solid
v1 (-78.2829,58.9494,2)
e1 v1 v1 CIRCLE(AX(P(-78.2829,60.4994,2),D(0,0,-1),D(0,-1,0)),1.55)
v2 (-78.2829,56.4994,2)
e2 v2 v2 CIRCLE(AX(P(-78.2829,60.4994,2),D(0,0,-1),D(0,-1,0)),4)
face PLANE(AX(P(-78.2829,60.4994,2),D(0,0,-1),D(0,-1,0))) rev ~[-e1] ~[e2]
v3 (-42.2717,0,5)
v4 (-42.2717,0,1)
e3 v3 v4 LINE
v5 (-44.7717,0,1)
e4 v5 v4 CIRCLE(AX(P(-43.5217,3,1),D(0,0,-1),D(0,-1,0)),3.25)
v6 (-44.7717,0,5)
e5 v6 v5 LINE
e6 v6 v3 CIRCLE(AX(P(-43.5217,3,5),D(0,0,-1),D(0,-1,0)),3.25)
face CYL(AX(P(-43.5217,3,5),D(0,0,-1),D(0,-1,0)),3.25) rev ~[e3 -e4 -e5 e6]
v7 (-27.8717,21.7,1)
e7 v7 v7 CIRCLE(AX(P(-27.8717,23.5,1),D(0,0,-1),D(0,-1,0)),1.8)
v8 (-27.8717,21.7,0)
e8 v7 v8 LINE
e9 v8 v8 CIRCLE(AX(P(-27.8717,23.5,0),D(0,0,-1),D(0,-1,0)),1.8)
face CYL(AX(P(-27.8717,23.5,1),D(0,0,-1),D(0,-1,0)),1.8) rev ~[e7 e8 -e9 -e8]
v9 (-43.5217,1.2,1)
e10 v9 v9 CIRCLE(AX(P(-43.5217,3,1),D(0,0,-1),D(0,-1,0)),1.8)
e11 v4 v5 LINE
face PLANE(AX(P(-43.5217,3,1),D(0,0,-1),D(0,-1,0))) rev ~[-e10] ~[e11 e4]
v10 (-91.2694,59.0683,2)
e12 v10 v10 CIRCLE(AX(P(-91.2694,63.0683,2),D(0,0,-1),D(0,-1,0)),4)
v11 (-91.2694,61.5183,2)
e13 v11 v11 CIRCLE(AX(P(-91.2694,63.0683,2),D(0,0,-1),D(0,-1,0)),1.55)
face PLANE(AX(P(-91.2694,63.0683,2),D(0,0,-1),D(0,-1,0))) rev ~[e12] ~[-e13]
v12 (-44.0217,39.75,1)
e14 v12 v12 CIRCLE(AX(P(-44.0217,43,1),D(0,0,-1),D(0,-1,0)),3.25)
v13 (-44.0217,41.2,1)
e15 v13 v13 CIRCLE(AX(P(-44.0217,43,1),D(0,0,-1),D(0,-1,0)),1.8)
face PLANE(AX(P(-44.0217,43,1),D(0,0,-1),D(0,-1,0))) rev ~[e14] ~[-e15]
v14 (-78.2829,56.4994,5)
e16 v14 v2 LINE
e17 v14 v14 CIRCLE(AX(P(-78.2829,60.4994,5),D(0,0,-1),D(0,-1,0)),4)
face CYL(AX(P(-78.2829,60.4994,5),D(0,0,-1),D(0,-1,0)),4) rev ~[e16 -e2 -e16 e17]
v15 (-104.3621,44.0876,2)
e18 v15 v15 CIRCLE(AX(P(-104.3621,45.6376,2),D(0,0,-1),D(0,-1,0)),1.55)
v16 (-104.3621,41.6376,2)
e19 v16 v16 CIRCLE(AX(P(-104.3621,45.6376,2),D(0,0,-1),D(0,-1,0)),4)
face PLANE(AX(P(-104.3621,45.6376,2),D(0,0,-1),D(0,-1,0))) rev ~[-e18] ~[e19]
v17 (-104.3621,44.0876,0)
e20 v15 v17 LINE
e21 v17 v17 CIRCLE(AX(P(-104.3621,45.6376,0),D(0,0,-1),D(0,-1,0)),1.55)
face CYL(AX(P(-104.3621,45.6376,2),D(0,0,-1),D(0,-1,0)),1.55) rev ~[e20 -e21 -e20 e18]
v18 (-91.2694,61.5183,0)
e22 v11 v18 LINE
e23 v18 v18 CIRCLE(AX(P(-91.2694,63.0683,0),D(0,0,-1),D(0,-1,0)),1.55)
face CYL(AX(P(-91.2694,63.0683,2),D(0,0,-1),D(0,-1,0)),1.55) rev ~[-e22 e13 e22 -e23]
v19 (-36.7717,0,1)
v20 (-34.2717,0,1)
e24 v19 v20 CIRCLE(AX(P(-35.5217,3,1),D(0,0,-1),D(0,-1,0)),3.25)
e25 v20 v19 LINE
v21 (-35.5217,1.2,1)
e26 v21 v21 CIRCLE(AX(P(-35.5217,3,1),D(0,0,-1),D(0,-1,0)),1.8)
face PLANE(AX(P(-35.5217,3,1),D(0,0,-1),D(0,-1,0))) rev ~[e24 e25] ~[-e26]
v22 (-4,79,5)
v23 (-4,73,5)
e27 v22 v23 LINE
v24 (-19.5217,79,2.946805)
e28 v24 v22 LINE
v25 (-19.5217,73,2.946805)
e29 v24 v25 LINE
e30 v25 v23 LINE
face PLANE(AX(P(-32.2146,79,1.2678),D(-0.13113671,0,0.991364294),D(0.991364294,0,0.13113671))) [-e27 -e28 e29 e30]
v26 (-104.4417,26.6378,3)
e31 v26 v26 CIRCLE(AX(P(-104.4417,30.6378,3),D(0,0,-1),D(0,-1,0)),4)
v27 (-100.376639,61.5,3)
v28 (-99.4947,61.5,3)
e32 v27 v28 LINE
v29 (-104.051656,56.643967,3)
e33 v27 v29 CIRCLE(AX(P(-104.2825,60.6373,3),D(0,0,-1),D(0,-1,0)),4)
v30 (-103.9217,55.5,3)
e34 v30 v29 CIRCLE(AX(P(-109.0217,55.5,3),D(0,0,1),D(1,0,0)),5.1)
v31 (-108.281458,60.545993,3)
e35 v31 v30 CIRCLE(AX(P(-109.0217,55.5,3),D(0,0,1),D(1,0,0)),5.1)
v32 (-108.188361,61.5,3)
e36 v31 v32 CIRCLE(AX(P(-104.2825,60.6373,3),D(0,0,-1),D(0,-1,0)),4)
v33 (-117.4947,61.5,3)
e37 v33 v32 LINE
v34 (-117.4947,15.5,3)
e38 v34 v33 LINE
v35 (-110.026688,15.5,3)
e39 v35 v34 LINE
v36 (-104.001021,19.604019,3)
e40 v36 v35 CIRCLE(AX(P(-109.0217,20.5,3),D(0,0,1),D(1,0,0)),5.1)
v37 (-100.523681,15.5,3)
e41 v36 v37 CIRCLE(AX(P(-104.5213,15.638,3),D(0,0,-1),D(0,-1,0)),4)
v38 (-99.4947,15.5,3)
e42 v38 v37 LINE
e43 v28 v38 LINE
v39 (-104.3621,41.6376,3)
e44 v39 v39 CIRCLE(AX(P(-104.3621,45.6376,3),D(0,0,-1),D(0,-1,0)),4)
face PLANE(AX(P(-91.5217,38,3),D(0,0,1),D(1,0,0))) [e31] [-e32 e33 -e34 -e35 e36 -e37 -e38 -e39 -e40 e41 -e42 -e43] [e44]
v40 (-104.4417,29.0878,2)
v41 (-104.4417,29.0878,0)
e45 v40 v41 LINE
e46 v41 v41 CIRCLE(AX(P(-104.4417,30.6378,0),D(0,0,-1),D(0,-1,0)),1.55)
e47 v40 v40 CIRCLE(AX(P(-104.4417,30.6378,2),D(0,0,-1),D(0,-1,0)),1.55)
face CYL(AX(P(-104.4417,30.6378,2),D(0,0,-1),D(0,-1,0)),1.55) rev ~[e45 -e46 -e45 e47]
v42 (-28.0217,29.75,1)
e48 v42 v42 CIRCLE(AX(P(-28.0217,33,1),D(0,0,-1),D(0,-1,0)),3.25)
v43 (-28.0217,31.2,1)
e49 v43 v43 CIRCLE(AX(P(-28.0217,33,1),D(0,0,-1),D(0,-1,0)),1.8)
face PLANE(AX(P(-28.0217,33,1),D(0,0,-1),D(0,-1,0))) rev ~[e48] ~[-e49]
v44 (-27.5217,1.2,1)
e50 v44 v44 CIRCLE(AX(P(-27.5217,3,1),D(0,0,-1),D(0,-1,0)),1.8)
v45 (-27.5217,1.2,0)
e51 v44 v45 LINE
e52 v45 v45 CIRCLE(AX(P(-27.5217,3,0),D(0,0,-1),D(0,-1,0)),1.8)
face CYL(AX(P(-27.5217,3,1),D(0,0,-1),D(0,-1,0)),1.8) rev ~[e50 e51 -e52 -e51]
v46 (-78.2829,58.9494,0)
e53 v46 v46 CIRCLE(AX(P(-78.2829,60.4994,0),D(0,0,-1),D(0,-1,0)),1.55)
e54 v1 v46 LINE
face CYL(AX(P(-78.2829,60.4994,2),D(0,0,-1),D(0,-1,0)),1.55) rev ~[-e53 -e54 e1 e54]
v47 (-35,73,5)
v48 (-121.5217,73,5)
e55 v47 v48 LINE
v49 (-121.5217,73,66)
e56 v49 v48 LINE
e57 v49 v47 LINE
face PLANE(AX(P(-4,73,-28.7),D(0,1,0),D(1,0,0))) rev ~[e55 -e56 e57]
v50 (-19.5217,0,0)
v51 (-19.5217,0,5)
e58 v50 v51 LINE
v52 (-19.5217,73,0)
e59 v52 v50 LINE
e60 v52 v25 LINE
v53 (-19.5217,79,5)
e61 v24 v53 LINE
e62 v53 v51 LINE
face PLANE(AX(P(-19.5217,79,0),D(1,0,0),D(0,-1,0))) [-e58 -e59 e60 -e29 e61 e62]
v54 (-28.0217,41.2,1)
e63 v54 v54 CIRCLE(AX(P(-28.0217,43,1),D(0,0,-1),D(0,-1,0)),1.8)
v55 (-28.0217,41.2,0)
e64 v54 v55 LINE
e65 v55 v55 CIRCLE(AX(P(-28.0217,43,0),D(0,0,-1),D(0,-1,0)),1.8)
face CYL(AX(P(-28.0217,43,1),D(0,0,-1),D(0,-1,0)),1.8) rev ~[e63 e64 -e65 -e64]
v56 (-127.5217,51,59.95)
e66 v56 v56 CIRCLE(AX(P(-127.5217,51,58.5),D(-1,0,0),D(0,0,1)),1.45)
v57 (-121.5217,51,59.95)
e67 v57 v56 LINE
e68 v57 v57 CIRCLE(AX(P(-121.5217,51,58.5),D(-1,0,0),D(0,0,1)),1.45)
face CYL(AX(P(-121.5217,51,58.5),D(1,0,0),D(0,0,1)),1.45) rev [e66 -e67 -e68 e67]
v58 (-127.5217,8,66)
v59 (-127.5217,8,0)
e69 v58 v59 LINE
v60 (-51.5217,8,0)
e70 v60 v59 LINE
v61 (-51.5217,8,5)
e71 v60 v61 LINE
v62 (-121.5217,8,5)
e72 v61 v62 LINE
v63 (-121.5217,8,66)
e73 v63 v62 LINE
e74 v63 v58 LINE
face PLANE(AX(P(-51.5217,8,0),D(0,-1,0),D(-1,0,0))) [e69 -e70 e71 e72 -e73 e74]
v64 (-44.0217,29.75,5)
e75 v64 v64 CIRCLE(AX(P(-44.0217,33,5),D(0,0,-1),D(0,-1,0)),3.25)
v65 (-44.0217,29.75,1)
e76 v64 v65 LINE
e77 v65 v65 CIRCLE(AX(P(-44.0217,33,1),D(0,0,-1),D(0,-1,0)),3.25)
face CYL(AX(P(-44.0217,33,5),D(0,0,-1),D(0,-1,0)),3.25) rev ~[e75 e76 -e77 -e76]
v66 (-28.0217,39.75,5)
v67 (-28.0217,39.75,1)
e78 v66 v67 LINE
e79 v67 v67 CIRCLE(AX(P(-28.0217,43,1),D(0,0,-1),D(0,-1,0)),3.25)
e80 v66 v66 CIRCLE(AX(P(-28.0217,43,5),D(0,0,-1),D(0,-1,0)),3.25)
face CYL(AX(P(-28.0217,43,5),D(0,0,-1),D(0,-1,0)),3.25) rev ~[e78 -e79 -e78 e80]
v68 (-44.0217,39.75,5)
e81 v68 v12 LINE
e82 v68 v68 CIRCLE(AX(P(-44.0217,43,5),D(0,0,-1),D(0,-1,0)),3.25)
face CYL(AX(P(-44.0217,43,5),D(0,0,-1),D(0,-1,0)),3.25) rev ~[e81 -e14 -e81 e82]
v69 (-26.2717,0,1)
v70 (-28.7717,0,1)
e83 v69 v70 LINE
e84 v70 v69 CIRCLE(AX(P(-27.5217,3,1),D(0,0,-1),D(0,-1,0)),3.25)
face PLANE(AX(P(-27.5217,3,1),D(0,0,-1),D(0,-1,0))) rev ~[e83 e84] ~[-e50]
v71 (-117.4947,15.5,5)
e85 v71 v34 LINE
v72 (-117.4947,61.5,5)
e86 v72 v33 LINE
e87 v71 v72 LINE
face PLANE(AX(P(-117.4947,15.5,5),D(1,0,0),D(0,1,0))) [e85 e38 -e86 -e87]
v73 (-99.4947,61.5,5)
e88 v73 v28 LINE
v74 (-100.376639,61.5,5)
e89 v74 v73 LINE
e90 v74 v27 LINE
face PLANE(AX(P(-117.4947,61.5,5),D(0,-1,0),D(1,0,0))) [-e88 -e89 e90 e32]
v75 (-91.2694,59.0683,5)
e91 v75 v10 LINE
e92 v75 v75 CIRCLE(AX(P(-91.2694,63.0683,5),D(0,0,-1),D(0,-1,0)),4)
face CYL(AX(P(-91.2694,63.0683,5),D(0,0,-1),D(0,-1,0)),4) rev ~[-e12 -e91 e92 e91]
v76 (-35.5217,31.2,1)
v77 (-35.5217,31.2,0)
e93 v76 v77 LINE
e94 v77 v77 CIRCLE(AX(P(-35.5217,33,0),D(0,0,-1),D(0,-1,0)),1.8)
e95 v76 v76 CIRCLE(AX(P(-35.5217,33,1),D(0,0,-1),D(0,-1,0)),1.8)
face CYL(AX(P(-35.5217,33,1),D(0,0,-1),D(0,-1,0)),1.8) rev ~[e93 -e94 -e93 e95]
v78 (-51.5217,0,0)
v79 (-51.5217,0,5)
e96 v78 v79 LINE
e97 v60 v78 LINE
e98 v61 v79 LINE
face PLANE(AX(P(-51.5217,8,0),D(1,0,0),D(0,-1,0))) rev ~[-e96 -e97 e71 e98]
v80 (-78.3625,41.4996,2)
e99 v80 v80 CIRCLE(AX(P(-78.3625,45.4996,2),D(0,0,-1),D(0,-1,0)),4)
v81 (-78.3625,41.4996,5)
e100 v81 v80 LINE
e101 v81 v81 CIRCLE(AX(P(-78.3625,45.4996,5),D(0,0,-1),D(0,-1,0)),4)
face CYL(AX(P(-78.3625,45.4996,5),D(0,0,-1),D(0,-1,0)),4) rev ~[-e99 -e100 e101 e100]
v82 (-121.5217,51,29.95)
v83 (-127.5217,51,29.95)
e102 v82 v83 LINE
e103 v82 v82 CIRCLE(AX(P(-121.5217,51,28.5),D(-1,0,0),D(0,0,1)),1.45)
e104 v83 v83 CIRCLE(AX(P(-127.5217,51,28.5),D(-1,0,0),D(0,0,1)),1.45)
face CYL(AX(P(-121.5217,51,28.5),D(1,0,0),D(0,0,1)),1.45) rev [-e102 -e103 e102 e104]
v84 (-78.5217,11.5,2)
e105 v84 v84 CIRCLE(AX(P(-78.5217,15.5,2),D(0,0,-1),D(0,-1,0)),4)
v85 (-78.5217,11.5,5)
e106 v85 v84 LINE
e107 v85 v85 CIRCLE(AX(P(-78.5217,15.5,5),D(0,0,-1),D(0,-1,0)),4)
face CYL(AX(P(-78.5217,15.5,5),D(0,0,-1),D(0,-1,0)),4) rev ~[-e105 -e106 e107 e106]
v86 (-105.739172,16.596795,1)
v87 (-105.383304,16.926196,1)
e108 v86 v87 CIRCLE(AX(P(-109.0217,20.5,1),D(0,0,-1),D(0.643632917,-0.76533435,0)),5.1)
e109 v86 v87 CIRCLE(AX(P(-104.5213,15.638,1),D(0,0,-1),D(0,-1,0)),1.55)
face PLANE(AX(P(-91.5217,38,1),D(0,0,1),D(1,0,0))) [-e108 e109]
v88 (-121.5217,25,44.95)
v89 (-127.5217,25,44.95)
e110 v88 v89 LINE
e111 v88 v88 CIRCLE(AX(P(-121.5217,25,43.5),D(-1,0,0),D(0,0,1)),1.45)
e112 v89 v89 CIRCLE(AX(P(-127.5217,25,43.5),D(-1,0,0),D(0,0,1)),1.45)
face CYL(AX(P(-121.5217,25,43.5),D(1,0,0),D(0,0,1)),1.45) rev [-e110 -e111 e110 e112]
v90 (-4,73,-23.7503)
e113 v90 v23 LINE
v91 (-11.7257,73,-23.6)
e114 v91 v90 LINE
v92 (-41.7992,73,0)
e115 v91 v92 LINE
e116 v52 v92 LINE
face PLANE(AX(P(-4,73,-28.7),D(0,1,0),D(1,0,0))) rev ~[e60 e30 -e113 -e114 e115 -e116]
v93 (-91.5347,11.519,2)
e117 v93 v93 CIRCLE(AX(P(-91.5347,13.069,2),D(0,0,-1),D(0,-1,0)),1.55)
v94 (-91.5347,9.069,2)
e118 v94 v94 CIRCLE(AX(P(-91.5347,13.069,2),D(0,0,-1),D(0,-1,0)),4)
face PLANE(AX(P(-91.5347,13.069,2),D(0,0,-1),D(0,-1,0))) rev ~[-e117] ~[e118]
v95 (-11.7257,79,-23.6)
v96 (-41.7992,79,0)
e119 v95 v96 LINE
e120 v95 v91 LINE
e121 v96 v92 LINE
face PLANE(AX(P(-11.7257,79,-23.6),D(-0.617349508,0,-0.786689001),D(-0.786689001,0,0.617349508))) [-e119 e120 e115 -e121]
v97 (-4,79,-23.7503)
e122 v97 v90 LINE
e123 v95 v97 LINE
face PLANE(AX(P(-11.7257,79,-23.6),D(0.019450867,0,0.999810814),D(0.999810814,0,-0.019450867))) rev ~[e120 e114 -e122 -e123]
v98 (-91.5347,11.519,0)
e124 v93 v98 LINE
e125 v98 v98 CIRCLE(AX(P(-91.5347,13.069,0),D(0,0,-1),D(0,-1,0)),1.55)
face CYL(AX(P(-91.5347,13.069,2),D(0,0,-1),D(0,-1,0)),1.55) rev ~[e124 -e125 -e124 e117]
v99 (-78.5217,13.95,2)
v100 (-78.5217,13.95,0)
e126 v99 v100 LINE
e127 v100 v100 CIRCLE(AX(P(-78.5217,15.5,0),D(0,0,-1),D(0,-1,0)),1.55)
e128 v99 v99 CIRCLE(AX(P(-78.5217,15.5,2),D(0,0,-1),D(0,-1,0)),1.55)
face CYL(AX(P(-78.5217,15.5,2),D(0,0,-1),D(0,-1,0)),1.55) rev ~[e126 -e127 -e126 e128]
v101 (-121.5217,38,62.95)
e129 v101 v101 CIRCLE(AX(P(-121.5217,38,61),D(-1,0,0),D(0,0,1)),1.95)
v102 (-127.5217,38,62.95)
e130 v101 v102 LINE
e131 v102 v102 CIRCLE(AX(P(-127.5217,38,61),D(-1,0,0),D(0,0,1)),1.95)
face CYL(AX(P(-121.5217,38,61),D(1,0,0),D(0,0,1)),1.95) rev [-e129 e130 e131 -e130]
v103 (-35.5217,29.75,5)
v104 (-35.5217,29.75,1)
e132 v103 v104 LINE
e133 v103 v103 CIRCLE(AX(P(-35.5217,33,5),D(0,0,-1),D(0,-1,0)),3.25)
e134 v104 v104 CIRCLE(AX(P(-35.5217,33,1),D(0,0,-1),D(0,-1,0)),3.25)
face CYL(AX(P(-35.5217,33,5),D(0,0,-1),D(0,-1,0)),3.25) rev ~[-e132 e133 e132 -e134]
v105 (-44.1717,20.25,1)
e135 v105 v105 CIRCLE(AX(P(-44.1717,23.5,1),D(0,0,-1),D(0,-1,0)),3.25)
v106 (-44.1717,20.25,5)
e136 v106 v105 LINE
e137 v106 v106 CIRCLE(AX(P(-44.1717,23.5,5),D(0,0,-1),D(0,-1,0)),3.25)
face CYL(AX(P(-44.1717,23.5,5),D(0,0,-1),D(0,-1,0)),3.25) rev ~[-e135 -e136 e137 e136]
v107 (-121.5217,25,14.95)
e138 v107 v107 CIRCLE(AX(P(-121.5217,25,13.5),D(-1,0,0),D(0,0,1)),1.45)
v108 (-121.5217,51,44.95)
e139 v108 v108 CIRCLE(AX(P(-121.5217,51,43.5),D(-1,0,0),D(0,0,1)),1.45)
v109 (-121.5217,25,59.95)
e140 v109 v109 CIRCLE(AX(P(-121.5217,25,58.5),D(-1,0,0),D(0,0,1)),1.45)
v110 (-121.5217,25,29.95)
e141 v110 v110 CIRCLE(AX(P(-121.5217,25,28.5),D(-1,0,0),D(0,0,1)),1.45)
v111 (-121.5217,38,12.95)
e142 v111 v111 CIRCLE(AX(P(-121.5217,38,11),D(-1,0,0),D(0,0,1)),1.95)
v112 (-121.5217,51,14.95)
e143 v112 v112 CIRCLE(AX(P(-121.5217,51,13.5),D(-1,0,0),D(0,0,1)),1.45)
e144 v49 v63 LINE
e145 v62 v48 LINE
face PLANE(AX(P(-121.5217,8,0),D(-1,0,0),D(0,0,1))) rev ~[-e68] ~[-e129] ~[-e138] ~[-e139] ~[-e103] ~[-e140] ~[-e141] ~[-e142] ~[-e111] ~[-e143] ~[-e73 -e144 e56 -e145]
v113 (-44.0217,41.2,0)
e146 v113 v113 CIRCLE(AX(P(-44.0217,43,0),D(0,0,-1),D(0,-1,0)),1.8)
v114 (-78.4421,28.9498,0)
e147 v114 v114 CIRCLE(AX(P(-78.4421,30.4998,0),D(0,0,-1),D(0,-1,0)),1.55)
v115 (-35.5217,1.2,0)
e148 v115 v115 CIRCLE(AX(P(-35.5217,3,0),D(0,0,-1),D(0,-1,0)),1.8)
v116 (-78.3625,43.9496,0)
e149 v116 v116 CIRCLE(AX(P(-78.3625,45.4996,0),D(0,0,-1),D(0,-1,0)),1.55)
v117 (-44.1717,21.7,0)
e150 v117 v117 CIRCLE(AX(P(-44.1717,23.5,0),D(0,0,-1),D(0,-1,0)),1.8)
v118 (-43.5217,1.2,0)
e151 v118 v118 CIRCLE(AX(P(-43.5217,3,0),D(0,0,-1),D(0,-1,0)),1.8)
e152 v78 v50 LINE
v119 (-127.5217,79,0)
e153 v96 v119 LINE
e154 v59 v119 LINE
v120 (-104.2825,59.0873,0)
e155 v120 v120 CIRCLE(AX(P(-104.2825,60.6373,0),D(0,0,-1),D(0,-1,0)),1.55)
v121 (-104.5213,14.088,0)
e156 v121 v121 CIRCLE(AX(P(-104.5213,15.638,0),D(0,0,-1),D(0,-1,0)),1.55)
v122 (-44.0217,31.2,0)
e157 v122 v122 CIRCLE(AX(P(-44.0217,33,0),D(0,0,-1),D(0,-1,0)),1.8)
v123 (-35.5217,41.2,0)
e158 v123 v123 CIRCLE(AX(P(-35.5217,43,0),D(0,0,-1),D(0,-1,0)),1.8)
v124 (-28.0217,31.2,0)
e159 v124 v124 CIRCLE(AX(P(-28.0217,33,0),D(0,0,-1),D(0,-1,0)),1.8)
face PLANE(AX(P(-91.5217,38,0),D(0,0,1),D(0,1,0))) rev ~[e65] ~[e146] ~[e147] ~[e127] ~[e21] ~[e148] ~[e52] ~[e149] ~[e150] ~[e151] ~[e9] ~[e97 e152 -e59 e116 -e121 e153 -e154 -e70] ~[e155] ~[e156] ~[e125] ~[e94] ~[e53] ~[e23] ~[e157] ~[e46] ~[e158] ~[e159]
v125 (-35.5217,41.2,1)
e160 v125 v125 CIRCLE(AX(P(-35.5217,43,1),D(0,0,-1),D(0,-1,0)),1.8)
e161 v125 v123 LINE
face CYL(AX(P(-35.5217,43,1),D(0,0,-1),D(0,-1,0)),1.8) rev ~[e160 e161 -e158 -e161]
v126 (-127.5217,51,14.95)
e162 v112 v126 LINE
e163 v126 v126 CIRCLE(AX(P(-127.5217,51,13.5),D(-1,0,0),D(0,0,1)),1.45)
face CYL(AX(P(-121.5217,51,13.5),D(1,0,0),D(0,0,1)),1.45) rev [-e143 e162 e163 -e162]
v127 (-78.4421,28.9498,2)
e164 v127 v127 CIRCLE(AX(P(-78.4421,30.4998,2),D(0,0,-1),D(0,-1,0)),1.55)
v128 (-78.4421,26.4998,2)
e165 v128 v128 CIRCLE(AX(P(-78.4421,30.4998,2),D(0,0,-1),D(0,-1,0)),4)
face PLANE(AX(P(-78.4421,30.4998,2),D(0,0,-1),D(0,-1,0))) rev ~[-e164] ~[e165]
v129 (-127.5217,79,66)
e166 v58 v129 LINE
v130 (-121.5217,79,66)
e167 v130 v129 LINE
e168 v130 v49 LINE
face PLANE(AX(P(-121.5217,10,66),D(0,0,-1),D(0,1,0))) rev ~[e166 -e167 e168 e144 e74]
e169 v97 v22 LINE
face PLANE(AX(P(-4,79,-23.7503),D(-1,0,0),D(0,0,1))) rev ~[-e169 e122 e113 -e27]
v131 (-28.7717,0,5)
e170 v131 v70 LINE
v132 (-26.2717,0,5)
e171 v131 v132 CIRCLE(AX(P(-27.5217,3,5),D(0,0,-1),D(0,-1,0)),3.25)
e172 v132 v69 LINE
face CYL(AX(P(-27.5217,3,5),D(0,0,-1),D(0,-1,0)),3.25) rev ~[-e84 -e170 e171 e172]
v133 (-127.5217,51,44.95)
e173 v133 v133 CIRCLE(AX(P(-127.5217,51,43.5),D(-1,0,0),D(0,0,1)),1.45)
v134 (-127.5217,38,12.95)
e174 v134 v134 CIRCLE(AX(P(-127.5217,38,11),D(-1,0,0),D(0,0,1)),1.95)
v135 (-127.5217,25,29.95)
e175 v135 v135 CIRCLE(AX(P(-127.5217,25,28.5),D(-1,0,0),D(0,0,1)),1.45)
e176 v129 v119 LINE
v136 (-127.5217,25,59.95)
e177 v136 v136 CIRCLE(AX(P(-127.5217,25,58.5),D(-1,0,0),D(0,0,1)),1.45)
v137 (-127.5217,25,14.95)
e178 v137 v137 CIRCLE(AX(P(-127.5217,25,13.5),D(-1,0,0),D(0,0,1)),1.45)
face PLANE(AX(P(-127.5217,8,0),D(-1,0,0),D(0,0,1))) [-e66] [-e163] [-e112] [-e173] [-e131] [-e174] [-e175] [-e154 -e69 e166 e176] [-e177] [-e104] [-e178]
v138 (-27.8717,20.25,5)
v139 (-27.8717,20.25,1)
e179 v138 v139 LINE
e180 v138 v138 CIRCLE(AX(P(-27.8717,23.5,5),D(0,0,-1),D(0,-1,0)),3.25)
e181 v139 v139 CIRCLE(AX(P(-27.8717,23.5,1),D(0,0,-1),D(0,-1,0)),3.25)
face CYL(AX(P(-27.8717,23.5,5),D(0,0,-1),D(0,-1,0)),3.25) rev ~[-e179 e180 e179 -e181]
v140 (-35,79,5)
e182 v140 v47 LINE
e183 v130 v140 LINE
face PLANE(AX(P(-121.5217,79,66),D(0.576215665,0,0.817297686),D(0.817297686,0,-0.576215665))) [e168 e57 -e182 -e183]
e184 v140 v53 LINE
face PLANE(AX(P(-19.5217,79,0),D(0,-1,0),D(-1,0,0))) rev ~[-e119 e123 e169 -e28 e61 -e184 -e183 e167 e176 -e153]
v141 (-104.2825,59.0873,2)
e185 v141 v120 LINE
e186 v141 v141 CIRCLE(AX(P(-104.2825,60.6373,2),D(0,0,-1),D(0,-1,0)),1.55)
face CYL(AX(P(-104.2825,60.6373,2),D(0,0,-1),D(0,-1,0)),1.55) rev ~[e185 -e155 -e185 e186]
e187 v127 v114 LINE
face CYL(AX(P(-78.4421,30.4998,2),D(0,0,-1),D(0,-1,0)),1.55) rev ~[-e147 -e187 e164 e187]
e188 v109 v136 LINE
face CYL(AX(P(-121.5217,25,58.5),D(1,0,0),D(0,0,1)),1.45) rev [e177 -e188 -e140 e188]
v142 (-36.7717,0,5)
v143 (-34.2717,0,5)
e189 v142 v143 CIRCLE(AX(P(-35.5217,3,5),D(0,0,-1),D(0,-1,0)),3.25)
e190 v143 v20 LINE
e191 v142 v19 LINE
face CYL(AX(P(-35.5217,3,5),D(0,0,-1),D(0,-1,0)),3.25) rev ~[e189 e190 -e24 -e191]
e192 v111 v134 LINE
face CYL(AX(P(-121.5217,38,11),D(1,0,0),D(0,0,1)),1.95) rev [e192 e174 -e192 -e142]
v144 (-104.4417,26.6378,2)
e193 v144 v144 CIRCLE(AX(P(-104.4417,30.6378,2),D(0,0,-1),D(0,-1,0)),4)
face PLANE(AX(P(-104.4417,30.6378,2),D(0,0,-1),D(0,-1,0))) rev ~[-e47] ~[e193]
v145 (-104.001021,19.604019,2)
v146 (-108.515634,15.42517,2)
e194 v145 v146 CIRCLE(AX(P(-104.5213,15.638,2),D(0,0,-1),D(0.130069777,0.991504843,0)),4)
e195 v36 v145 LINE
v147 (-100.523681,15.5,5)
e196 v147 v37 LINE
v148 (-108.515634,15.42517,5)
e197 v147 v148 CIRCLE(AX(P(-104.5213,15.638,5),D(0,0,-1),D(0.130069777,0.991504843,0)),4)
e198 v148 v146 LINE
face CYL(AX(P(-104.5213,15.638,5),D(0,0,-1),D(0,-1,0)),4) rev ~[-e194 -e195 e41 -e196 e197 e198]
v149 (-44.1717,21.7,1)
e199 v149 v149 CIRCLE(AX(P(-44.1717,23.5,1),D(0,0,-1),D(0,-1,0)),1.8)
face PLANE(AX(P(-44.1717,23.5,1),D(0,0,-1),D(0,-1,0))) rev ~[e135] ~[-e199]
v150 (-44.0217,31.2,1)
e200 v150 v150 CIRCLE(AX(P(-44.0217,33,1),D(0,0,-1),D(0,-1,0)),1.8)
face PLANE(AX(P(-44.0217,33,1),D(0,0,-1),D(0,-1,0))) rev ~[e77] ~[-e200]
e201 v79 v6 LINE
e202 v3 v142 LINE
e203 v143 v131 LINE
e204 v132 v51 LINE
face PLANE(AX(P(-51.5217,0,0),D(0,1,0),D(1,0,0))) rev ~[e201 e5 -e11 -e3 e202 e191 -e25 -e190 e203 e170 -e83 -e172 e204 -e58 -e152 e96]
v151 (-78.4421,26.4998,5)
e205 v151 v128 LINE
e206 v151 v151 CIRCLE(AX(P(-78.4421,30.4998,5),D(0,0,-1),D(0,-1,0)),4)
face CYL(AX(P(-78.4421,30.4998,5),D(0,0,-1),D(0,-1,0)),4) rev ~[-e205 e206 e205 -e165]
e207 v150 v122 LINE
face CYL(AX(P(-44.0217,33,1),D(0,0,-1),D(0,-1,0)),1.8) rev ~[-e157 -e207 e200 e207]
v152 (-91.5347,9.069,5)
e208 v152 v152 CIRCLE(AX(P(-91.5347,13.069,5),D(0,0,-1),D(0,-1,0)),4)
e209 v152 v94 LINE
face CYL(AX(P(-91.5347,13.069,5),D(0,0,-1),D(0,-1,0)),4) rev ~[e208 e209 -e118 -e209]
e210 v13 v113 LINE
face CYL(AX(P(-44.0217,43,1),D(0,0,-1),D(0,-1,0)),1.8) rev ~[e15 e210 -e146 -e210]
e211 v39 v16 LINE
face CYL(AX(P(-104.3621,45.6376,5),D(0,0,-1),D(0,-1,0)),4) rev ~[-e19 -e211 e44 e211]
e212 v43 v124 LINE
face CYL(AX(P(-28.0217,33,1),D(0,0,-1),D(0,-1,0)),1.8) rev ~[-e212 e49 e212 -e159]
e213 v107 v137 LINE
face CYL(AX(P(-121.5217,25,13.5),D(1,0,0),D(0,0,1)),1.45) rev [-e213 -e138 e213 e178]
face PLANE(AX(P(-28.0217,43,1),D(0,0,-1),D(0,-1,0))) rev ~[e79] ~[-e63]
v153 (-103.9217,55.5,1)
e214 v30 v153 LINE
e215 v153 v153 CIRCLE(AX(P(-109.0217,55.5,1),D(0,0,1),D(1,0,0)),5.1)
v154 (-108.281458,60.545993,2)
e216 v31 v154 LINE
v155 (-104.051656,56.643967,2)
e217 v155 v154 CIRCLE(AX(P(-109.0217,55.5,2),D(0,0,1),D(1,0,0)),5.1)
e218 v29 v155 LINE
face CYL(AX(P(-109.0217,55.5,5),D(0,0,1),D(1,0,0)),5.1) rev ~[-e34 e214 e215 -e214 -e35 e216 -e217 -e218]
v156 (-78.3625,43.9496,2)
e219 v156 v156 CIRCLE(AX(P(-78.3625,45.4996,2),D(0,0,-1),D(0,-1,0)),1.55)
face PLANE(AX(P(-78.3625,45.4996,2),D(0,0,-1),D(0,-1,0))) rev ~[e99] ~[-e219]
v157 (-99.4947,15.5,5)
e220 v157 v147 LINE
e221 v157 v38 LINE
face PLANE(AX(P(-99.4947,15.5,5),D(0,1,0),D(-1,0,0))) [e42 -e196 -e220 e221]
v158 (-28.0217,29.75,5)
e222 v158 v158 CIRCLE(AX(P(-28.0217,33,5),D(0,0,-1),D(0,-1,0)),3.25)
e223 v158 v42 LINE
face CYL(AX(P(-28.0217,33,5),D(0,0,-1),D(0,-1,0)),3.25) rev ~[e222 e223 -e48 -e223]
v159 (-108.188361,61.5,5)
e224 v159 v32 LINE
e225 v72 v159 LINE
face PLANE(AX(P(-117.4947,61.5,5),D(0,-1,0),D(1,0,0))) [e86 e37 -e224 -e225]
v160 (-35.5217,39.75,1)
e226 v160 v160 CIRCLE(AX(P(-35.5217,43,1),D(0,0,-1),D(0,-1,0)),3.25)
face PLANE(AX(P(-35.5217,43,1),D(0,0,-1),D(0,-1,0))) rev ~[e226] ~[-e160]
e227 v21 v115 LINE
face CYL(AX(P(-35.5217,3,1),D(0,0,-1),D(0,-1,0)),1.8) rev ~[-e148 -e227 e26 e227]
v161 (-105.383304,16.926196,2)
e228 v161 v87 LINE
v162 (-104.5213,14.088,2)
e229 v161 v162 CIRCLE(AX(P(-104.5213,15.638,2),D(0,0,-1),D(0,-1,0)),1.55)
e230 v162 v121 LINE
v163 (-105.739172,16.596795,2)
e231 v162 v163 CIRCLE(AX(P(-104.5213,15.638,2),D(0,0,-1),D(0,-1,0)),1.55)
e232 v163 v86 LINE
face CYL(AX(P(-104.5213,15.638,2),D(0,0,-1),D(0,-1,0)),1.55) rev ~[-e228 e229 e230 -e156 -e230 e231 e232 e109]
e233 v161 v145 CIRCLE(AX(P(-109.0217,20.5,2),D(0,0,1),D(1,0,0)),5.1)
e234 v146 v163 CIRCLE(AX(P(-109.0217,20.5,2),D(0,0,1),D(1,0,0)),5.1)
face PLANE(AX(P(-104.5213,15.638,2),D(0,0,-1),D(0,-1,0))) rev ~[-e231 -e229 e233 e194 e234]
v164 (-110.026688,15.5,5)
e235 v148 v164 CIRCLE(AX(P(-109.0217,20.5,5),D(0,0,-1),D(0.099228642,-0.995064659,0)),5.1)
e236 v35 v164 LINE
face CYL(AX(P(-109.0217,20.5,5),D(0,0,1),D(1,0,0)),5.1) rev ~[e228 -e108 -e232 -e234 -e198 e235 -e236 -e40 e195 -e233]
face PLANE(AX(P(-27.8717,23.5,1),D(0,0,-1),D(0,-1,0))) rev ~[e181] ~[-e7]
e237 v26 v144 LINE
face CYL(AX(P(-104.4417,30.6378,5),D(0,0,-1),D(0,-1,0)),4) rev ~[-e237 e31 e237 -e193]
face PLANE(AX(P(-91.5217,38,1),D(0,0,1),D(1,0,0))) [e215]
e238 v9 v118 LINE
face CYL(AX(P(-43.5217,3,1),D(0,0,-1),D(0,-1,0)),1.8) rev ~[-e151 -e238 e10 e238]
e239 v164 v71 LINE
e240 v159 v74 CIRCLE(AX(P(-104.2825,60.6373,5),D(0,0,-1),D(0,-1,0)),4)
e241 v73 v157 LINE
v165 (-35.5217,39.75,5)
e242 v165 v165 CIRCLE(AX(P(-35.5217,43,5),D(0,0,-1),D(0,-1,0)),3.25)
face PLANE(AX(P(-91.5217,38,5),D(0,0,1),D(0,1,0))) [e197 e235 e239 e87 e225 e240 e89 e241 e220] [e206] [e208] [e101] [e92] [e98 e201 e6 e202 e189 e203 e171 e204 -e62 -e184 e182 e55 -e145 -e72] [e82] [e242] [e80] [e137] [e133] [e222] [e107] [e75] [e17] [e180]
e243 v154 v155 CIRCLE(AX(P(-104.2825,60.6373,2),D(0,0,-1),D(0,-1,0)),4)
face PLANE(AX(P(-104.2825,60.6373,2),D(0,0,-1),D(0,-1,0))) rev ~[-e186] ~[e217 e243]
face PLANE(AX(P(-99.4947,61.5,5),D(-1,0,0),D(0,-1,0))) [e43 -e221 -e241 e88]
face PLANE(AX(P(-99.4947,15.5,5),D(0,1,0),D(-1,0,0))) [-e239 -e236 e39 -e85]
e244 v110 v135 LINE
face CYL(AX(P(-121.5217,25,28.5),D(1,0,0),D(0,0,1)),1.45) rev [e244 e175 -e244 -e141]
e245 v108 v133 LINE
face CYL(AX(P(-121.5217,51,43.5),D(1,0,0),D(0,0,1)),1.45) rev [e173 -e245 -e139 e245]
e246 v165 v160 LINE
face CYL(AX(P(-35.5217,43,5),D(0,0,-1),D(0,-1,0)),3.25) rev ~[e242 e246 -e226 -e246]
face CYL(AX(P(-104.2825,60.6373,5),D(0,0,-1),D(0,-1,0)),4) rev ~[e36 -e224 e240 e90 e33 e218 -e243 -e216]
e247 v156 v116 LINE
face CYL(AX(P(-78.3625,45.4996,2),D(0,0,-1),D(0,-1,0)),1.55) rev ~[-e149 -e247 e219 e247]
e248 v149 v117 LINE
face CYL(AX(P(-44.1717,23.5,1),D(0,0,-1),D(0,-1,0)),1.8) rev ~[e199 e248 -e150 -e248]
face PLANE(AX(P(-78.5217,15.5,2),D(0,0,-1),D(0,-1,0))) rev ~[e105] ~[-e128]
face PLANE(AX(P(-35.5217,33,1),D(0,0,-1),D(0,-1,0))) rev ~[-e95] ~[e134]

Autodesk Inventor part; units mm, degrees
ref_plane "YZ Plane" through (0, 0, 0) normal (1, 0, 0) x (0, 1, 0)
ref_plane "XZ Plane" through (0, 0, 0) normal (0, 1, 0) x (-1, 0, 0)
ref_plane "Work Plane1" through (0, 0, 0) normal (0, 0, 1) x (1, 0, 0)
sketch "Sketch1" plane through (0, 0, 0) normal (0, 0, 1) x (1, 0, 0)
  circle A0 centre (23.5, 33) radius 1 construction
  circle A1 centre (23.5, 43) radius 1 construction
  circle A2 centre (24, 3) radius 1 construction
  circle A3 centre (8, 3) radius 1 construction
  circle A4 centre (16, 33) radius 1 construction
  circle A5 centre (16, 43) radius 1 construction
  circle A6 centre (7.5, 43) radius 1 construction
  circle A7 centre (7.5, 33) radius 1.0474 construction
  circle A8 centre (16, 3) radius 1 construction
  line L0 (32, 0) -> (0, 0) construction
  line L1 (32, 0) -> (32, 48) construction
  line L2 (0, 48) -> (32, 48) construction
  line L3 (0, 0) -> (0, 48) construction
  line L4 (7.5277, 79) -> (26, 79) construction
  line L5 (26, 78) -> (7.5277, 78) construction
  line L6 (32, 0) -> (0, 0)
  line L7 (0, 0) -> (0, 79)
  line L8 (0, 79) -> (32, 79)
  line L9 (32, 79) -> (32, 0)
ref_plane "Work Plane2" through (-70, 8, 5) normal (0, 0, 1) x (1, 0, 0)
ref_plane "Work Plane3" through (-91.5217, 38, 0) normal (0, 0, 1) x (0, 1, 0)
sketch "Sketch2" plane through (-91.5217, 38, 0) normal (0, 0, 1) x (0, 1, 0)
  line L0 (28, 30) -> (30, 28) construction
  line L1 (28, 30) -> (-28, 30) construction
  line L2 (-30, 28) -> (-28, 30) construction
  line L3 (-30, 28) -> (-30, -28) construction
  line L4 (-28, -30) -> (-30, -28) construction
  line L5 (-28, -30) -> (28, -30) construction
  line L6 (30, -28) -> (28, -30) construction
  line L7 (30, -28) -> (30, 28) construction
  circle A0 centre (-17.5, -17.5) radius 1.95 construction
  circle A1 centre (17.5, 17.5) radius 1.95 construction
  circle A2 centre (17.5, -17.5) radius 1.95 construction
  circle A3 centre (-17.5, 17.5) radius 1.95 construction
  circle A4 centre (0, 0) radius 7.5 construction
  line L8 (-38, -40) -> (41, -40) construction
  line L9 (-38, -72) -> (-38, -40) construction
  line L10 (41, -72) -> (-38, -72) construction
  line L11 (41, -40) -> (41, -72) construction
  line L12 (41, -40) -> (-30, -40)
  line L13 (-30, -40) -> (-30, 30)
  line L14 (-30, 30) -> (41, 30)
  line L15 (41, 30) -> (41, -40)
  line L16 (41, -72) -> (-38, -72) projected
  line L17 (41, -40) -> (-38, -40)
  line L18 (-38, -40) -> (-38, -72)
  line L19 (-38, -72) -> (41, -72)
  line L20 (41, -72) -> (41, -40)
  point P0 (-38, -91.5217)
  point P1 (41, -50.5)
extrude "Extrusion2" add sketch "Sketch2" along normal blind 5
sketch "Sketch3" plane through (-91.5217, 38, 5) normal (0, 0, 1) x (1, 0, 0)
  line L0 (40, -30) -> (40, -38) projected
  line L1 (40, -38) -> (72, -38) projected
  line L2 (72, -38) -> (72, 41) projected
  line L3 (72, 41) -> (-30, 41) projected
  line L4 (-30, 41) -> (-30, -30) projected
  line L5 (-30, -30) -> (40, -30) projected
  circle A0 centre (48, -35) radius 1 projected
  circle A1 centre (64, -35) radius 1 projected
  circle A2 centre (63.5, 5) radius 1 projected
  circle A3 centre (63.5, -5) radius 1 projected
  circle A4 centre (47.5, -5) radius 1.0474 projected
  circle A5 centre (47.5, 5) radius 1 projected
  arc A6 (64.5499, 87.15) -> (61.0499, 90.65) centre (61.0499, 87.15) ccw projected
  line L6 (2.1699, 90.65) -> (61.0499, 90.65) projected
  arc A7 (2.1699, 90.65) -> (-1.3301, 87.15) centre (2.1699, 87.15) ccw projected
  line L7 (-1.3301, -52.85) -> (-1.3301, 87.15) projected
  arc A8 (-1.3301, -52.85) -> (2.1699, -56.35) centre (2.1699, -52.85) ccw projected
  line L8 (61.0499, -56.35) -> (2.1699, -56.35) projected
  arc A9 (61.0499, -56.35) -> (64.5499, -52.85) centre (61.0499, -52.85) ccw projected
  line L9 (64.5499, 87.15) -> (64.5499, -52.85) projected
  circle A10 centre (56, 5) radius 1 projected
  circle A11 centre (56, -5) radius 1 projected
  circle A12 centre (56, -35) radius 1 projected
  circle A13 centre (47.35, -14.5) radius 1.4 projected
  circle A14 centre (63.65, -14.5) radius 1.4 projected
  point P0 (91.5217, -38)
hole "Hole1" at (-44.0217, 43, 5) at (-35.5217, 43, 5) at (-28.0217, 43, 5) at (-28.0217, 33, 5) at (-35.5217, 33, 5) at (-44.0217, 33, 5) at (-43.5217, 3, 5) at (-35.5217, 3, 5) at (-27.5217, 3, 5) at (-44.1717, 23.5, 5) at (-27.8717, 23.5, 5) direction (0, 0, -1) diameter 3.6 depth 12 tip angle 118 counterbore diameter 6.5 counterbore depth 4
sketch "Sketch4" plane through (-91.5217, 38, 5) normal (0, 0, 1) x (1, 0, 0)
  circle A0 centre (13.1592, 7.4996) radius 3 construction
  circle A1 centre (13, -22.5) radius 3 construction
  circle A2 centre (-12.92, -7.3622) radius 3 construction
  circle A3 centre (-12.7608, 22.6373) radius 3 construction
  circle A4 centre (-12.8404, 7.6376) radius 3 construction
  circle A5 centre (-12.9996, -22.362) radius 3 construction
  circle A6 centre (13.0796, -7.5002) radius 3 construction
  circle A7 centre (13.2388, 22.4994) radius 3 construction
  circle A8 centre (-0.0131, -24.931) radius 1.95 construction
  circle A9 centre (0.2523, 25.0683) radius 1.95 construction
  line L0 (-30.0286, -27.7717) -> (-28.0392, -29.7823) construction
  line L1 (-28.0392, -29.7823) -> (27.96, -30.0795) construction
  line L2 (27.96, -30.0795) -> (29.9706, -28.0901) construction
  line L3 (29.9706, -28.0901) -> (30.2678, 27.9091) construction
  line L4 (30.2678, 27.9091) -> (28.2784, 29.9197) construction
  line L5 (28.2784, 29.9197) -> (-27.7208, 30.2168) construction
  line L6 (-27.7208, 30.2168) -> (-29.7314, 28.2275) construction
  line L7 (-29.7314, 28.2275) -> (-30.0286, -27.7717) construction
  point P0 (-17.5, -17.5)
  point P1 (17.5, -17.5)
  point P2 (17.5, 17.5)
  point P3 (-17.5, 17.5)
hole "Hole2" at (-104.2825, 60.6373, 5) at (-104.3621, 45.6376, 5) at (-104.4417, 30.6378, 5) at (-104.5213, 15.638, 5) at (-91.5347, 13.069, 5) at (-91.2694, 63.0683, 5) at (-78.2829, 60.4994, 5) at (-78.3625, 45.4996, 5) at (-78.4421, 30.4998, 5) at (-78.5217, 15.5, 5) direction (0, 0, -1) diameter 3.1 depth 12 tip angle 118 counterbore diameter 8 counterbore depth 3
ref_plane "Work Plane4" through (0, 79, 0) normal (0, 1, 0) x (1, 0, 0)
sketch "Sketch5" plane through (0, 79, 0) normal (0, 1, 0) x (1, 0, 0)
  arc A0 (0.1445, 22.7) -> (-0.8555, 23.7) centre (-0.8555, 22.7) ccw construction
  line L0 (-0.8555, 23.7) -> (-4, 23.7) construction
  line L1 (-4, 23.7) -> (-4, -2) construction
  line L2 (-4, -2) -> (5.5277, -2) construction
  arc A1 (5.5277, -2) -> (6.5277, -1) centre (5.5277, -1) ccw construction
  line L3 (6.5277, -1) -> (6.5277, 0.8624) construction
  arc A2 (7.5277, 1.8624) -> (6.5277, 0.8624) centre (7.5277, 0.8624) ccw construction
  line L4 (7.5277, 1.8624) -> (26, 1.8624) construction
  line L5 (26, 1.8624) -> (26, 13.397) construction
  arc A3 (27, 14.397) -> (26, 13.397) centre (27, 13.397) ccw construction
  line L6 (27, 14.397) -> (28, 14.397) construction
  arc A4 (28, 14.397) -> (29, 15.397) centre (28, 15.397) ccw construction
  line L7 (29, 15.397) -> (29, 17.9624) construction
  arc A5 (29, 17.9624) -> (28, 18.9624) centre (28, 17.9624) ccw construction
  line L8 (28, 18.9624) -> (1.1445, 18.9624) construction
  arc A6 (0.1445, 19.9624) -> (1.1445, 18.9624) centre (1.1445, 19.9624) ccw construction
  line L9 (0.1445, 19.9624) -> (0.1445, 22.7) construction
  line L10 (8.5, 17) -> (24, 17) construction
  line L11 (24, 17) -> (24, 3.5) construction
  line L12 (24, 3.5) -> (8.5, 3.5) construction
  line L13 (8.5, 3.5) -> (8.5, 17) construction
  circle A7 centre (-1.5, 21) radius 1 construction
  circle A8 centre (5, 0.5) radius 1 construction
  circle A9 centre (26.5, 16) radius 1 construction
  line L14 (-19.5217, 0) -> (-19.5217, -5) construction
  line L15 (-19.5217, 0) -> (-121.5217, 0) construction
  line L16 (-51.5217, 0) -> (-19.5217, 0) projected
  line L17 (-4, 23.7) -> (-19.5217, 23.7)
  line L18 (-19.5217, 23.7) -> (-19.5217, 0)
  line L19 (-19.5217, 0) -> (-4, 0)
  line L20 (-4, 0) -> (-4, 23.7)
  line L21 (8.5, 3.5) -> (24, 3.5)
  line L22 (24, 3.5) -> (24, 23.7)
  line L23 (24, 23.7) -> (8.5, 23.7)
  line L24 (8.5, 23.7) -> (8.5, 3.5)
extrude "Extrusion3" [suppressed]
sketch "Sketch6" plane through (-121.5217, 8, 0) normal (-1, 0, 0) x (0, 0, 1)
  circle A0 centre (61, 30) radius 1.95 projected
  circle A1 centre (36, 55) radius 1.95 projected
  circle A2 centre (11, 55) radius 1.95 projected
  circle A3 centre (61, 5) radius 1.95 projected
  circle A4 centre (11, 5) radius 1.95 projected
  circle A5 centre (61, 55) radius 1.95 projected
  circle A6 centre (36, 5) radius 1.95 projected
  circle A7 centre (11, 30) radius 1.95 projected
  line L0 (66, 58) -> (64, 60) projected
  line L1 (64, 60) -> (8, 60) projected
  line L2 (8, 60) -> (6, 58) projected
  line L3 (6, 58) -> (6, 2) projected
  line L4 (6, 2) -> (8, 0) projected
  line L5 (8, 0) -> (64, 0) projected
  line L6 (64, 0) -> (66, 2) projected
  line L7 (66, 2) -> (66, 58) projected
  line L8 (0, 71) -> (0, 0) projected
  line L9 (0, 0) -> (5, 0) projected
  line L10 (5, 71) -> (5, 0) projected
  line L11 (0, 71) -> (5, 71) projected
  line L12 (66, 0) -> (0, 0)
  line L13 (0, 0) -> (0, 71)
  line L14 (0, 71) -> (66, 71)
  line L15 (66, 71) -> (66, 0)
  circle A8 centre (58.5, 43) radius 1.45 projected
  circle A9 centre (43.5, 43) radius 1.45 projected
  circle A10 centre (28.5, 43) radius 1.45 projected
  circle A11 centre (13.5, 43) radius 1.45 projected
  circle A12 centre (13.5, 17) radius 1.45 projected
  circle A13 centre (28.5, 17) radius 1.45 projected
  circle A14 centre (43.5, 17) radius 1.45 projected
  circle A15 centre (58.5, 17) radius 1.45 projected
  point P0 (0, -8)
extrude "Extrusion4" add sketch "Sketch6" along normal blind 6 contours A1 | A2 | A3 | A4 | A5 | A6 | L7 L6 L5 L4 L3 L2 L1 L0 | L0 L1 L2 L3 L4 L12 L10 L14 L15 | L15 L12 L6 | L10 L9 L8 L11
ref_plane "Work Plane6" through (-4, 79, -28.7) normal (0, 1, 0) x (1, 0, 0)
sketch "Sketch7" plane through (-4, 79, -28.7) normal (0, 1, 0) x (1, 0, 0)
  line L0 (-117.5217, -94.7) -> (-31, -33.7)
  line L1 (-28.2146, -29.9678) -> (0, -33.7)
  line L2 (-37.7992, -28.7) -> (-28.2146, -29.9678)
  line L3 (-7.7257, -5.1) -> (-37.7992, -28.7)
  line L4 (-7.7257, -5.1) -> (0, -4.9497)
  line L5 (0, -4.9497) -> (0, -33.7)
  line L6 (-15.5217, -28.7) -> (-123.5217, -28.7) projected
  line L7 (-37.7992, -28.7) -> (0, -33.7)
  line L8 (-47.5217, -28.7) -> (-123.5217, -28.7) projected
  line L9 (-123.5217, -28.7) -> (-37.7992, -28.7)
  line L10 (-31, -33.7) -> (-31, -29.5994)
  line L11 (-117.5217, -94.7) -> (-123.5217, -94.7) projected
  line L12 (-123.5217, -28.7) -> (-123.5217, -94.7)
  line L13 (-123.5217, -94.7) -> (-117.5217, -94.7)
  point P0 (0, -28.7)
extrude "Extrusion5" add sketch "Sketch7" against normal blind 6
sketch "Sketch8" plane through (-91.5217, 38, 5) normal (0, 0, 1) x (1, 0, 0)
  line L0 (0, 28) -> (-10, 28) construction
  line L1 (0, -28) -> (0, 28) construction
  line L2 (-10, -28) -> (0, -28) construction
  line L3 (-10, -28) -> (-10, 28) construction
  line L4 (-10, -28) -> (-10, 28) construction
  line L5 (-10, -28) -> (-20, -28) construction
  line L6 (-20, 28) -> (-20, -28) construction
  line L7 (-10, 28) -> (-20, 28) construction
  circle A0 centre (-17.5, -17.5) radius 2.1 projected
  circle A1 centre (-17.5, 17.5) radius 2.1 projected
  circle A2 centre (-17.5, -17.5) radius 5.1
  circle A3 centre (-17.5, 17.5) radius 5.1
  point P0 (91.5217, -38)
  dimension "d28" = 3
  dimension "d29" = 3
extrude "Extrusion6" cut sketch "Sketch8" against normal blind 4 contours A0 | A1 | A2 | A3
sketch "Sketch9" plane through (-91.5217, 38, 5) normal (0, 0, 1) x (1, 0, 0)
  line L0 (-29.973, -22.5) -> (-7.973, -22.5) construction
  line L1 (-7.973, -22.5) -> (-7.973, 23.5) construction
  line L2 (-7.973, 23.5) -> (-29.973, 23.5) construction
  line L3 (-29.973, 23.5) -> (-29.973, -22.5) construction
  line L4 (-30, -30) -> (40, -30) construction
  line L5 (-7.973, -22.5) -> (-25.973, -22.5)
  line L6 (-25.973, -22.5) -> (-25.973, 23.5)
  line L7 (-25.973, 23.5) -> (-7.973, 23.5)
  line L8 (-7.973, 23.5) -> (-7.973, -22.5)
  point P0 (91.5217, -38)
  dimension "d32" = 22
  dimension "d33" = 46
  dimension "d34" = 7.5
  dimension "d35" = 18
extrude "Extrusion7" cut sketch "Sketch9" against normal blind 2
ref_plane "Work Plane5" through (8.5, 79, -8.5) normal (0, 1, 0) x (1, 0, 0)
sketch "Sketch10" plane through (8.5, 79, -8.5) normal (0, 1, 0) x (1, 0, 0)
  circle A0 centre (-10, 12.5) radius 1 projected
  circle A1 centre (-3.5, -8) radius 1 projected
  circle A2 centre (18, 7.5) radius 1 projected
  point P0 (18, 12.5)
  point P1 (-3.5, -3)
  point P2 (-10, 17.5)
hole "Hole3" at (5, 79, -5.5) at (-1.5, 79, -21) at (26.5, 79, -16) at (5, 79, -0.5) direction (0, -1, 0) diameter 1.2 depth 10 tip angle 118
properties part number "cellSTORM_Lasermount_v0"
